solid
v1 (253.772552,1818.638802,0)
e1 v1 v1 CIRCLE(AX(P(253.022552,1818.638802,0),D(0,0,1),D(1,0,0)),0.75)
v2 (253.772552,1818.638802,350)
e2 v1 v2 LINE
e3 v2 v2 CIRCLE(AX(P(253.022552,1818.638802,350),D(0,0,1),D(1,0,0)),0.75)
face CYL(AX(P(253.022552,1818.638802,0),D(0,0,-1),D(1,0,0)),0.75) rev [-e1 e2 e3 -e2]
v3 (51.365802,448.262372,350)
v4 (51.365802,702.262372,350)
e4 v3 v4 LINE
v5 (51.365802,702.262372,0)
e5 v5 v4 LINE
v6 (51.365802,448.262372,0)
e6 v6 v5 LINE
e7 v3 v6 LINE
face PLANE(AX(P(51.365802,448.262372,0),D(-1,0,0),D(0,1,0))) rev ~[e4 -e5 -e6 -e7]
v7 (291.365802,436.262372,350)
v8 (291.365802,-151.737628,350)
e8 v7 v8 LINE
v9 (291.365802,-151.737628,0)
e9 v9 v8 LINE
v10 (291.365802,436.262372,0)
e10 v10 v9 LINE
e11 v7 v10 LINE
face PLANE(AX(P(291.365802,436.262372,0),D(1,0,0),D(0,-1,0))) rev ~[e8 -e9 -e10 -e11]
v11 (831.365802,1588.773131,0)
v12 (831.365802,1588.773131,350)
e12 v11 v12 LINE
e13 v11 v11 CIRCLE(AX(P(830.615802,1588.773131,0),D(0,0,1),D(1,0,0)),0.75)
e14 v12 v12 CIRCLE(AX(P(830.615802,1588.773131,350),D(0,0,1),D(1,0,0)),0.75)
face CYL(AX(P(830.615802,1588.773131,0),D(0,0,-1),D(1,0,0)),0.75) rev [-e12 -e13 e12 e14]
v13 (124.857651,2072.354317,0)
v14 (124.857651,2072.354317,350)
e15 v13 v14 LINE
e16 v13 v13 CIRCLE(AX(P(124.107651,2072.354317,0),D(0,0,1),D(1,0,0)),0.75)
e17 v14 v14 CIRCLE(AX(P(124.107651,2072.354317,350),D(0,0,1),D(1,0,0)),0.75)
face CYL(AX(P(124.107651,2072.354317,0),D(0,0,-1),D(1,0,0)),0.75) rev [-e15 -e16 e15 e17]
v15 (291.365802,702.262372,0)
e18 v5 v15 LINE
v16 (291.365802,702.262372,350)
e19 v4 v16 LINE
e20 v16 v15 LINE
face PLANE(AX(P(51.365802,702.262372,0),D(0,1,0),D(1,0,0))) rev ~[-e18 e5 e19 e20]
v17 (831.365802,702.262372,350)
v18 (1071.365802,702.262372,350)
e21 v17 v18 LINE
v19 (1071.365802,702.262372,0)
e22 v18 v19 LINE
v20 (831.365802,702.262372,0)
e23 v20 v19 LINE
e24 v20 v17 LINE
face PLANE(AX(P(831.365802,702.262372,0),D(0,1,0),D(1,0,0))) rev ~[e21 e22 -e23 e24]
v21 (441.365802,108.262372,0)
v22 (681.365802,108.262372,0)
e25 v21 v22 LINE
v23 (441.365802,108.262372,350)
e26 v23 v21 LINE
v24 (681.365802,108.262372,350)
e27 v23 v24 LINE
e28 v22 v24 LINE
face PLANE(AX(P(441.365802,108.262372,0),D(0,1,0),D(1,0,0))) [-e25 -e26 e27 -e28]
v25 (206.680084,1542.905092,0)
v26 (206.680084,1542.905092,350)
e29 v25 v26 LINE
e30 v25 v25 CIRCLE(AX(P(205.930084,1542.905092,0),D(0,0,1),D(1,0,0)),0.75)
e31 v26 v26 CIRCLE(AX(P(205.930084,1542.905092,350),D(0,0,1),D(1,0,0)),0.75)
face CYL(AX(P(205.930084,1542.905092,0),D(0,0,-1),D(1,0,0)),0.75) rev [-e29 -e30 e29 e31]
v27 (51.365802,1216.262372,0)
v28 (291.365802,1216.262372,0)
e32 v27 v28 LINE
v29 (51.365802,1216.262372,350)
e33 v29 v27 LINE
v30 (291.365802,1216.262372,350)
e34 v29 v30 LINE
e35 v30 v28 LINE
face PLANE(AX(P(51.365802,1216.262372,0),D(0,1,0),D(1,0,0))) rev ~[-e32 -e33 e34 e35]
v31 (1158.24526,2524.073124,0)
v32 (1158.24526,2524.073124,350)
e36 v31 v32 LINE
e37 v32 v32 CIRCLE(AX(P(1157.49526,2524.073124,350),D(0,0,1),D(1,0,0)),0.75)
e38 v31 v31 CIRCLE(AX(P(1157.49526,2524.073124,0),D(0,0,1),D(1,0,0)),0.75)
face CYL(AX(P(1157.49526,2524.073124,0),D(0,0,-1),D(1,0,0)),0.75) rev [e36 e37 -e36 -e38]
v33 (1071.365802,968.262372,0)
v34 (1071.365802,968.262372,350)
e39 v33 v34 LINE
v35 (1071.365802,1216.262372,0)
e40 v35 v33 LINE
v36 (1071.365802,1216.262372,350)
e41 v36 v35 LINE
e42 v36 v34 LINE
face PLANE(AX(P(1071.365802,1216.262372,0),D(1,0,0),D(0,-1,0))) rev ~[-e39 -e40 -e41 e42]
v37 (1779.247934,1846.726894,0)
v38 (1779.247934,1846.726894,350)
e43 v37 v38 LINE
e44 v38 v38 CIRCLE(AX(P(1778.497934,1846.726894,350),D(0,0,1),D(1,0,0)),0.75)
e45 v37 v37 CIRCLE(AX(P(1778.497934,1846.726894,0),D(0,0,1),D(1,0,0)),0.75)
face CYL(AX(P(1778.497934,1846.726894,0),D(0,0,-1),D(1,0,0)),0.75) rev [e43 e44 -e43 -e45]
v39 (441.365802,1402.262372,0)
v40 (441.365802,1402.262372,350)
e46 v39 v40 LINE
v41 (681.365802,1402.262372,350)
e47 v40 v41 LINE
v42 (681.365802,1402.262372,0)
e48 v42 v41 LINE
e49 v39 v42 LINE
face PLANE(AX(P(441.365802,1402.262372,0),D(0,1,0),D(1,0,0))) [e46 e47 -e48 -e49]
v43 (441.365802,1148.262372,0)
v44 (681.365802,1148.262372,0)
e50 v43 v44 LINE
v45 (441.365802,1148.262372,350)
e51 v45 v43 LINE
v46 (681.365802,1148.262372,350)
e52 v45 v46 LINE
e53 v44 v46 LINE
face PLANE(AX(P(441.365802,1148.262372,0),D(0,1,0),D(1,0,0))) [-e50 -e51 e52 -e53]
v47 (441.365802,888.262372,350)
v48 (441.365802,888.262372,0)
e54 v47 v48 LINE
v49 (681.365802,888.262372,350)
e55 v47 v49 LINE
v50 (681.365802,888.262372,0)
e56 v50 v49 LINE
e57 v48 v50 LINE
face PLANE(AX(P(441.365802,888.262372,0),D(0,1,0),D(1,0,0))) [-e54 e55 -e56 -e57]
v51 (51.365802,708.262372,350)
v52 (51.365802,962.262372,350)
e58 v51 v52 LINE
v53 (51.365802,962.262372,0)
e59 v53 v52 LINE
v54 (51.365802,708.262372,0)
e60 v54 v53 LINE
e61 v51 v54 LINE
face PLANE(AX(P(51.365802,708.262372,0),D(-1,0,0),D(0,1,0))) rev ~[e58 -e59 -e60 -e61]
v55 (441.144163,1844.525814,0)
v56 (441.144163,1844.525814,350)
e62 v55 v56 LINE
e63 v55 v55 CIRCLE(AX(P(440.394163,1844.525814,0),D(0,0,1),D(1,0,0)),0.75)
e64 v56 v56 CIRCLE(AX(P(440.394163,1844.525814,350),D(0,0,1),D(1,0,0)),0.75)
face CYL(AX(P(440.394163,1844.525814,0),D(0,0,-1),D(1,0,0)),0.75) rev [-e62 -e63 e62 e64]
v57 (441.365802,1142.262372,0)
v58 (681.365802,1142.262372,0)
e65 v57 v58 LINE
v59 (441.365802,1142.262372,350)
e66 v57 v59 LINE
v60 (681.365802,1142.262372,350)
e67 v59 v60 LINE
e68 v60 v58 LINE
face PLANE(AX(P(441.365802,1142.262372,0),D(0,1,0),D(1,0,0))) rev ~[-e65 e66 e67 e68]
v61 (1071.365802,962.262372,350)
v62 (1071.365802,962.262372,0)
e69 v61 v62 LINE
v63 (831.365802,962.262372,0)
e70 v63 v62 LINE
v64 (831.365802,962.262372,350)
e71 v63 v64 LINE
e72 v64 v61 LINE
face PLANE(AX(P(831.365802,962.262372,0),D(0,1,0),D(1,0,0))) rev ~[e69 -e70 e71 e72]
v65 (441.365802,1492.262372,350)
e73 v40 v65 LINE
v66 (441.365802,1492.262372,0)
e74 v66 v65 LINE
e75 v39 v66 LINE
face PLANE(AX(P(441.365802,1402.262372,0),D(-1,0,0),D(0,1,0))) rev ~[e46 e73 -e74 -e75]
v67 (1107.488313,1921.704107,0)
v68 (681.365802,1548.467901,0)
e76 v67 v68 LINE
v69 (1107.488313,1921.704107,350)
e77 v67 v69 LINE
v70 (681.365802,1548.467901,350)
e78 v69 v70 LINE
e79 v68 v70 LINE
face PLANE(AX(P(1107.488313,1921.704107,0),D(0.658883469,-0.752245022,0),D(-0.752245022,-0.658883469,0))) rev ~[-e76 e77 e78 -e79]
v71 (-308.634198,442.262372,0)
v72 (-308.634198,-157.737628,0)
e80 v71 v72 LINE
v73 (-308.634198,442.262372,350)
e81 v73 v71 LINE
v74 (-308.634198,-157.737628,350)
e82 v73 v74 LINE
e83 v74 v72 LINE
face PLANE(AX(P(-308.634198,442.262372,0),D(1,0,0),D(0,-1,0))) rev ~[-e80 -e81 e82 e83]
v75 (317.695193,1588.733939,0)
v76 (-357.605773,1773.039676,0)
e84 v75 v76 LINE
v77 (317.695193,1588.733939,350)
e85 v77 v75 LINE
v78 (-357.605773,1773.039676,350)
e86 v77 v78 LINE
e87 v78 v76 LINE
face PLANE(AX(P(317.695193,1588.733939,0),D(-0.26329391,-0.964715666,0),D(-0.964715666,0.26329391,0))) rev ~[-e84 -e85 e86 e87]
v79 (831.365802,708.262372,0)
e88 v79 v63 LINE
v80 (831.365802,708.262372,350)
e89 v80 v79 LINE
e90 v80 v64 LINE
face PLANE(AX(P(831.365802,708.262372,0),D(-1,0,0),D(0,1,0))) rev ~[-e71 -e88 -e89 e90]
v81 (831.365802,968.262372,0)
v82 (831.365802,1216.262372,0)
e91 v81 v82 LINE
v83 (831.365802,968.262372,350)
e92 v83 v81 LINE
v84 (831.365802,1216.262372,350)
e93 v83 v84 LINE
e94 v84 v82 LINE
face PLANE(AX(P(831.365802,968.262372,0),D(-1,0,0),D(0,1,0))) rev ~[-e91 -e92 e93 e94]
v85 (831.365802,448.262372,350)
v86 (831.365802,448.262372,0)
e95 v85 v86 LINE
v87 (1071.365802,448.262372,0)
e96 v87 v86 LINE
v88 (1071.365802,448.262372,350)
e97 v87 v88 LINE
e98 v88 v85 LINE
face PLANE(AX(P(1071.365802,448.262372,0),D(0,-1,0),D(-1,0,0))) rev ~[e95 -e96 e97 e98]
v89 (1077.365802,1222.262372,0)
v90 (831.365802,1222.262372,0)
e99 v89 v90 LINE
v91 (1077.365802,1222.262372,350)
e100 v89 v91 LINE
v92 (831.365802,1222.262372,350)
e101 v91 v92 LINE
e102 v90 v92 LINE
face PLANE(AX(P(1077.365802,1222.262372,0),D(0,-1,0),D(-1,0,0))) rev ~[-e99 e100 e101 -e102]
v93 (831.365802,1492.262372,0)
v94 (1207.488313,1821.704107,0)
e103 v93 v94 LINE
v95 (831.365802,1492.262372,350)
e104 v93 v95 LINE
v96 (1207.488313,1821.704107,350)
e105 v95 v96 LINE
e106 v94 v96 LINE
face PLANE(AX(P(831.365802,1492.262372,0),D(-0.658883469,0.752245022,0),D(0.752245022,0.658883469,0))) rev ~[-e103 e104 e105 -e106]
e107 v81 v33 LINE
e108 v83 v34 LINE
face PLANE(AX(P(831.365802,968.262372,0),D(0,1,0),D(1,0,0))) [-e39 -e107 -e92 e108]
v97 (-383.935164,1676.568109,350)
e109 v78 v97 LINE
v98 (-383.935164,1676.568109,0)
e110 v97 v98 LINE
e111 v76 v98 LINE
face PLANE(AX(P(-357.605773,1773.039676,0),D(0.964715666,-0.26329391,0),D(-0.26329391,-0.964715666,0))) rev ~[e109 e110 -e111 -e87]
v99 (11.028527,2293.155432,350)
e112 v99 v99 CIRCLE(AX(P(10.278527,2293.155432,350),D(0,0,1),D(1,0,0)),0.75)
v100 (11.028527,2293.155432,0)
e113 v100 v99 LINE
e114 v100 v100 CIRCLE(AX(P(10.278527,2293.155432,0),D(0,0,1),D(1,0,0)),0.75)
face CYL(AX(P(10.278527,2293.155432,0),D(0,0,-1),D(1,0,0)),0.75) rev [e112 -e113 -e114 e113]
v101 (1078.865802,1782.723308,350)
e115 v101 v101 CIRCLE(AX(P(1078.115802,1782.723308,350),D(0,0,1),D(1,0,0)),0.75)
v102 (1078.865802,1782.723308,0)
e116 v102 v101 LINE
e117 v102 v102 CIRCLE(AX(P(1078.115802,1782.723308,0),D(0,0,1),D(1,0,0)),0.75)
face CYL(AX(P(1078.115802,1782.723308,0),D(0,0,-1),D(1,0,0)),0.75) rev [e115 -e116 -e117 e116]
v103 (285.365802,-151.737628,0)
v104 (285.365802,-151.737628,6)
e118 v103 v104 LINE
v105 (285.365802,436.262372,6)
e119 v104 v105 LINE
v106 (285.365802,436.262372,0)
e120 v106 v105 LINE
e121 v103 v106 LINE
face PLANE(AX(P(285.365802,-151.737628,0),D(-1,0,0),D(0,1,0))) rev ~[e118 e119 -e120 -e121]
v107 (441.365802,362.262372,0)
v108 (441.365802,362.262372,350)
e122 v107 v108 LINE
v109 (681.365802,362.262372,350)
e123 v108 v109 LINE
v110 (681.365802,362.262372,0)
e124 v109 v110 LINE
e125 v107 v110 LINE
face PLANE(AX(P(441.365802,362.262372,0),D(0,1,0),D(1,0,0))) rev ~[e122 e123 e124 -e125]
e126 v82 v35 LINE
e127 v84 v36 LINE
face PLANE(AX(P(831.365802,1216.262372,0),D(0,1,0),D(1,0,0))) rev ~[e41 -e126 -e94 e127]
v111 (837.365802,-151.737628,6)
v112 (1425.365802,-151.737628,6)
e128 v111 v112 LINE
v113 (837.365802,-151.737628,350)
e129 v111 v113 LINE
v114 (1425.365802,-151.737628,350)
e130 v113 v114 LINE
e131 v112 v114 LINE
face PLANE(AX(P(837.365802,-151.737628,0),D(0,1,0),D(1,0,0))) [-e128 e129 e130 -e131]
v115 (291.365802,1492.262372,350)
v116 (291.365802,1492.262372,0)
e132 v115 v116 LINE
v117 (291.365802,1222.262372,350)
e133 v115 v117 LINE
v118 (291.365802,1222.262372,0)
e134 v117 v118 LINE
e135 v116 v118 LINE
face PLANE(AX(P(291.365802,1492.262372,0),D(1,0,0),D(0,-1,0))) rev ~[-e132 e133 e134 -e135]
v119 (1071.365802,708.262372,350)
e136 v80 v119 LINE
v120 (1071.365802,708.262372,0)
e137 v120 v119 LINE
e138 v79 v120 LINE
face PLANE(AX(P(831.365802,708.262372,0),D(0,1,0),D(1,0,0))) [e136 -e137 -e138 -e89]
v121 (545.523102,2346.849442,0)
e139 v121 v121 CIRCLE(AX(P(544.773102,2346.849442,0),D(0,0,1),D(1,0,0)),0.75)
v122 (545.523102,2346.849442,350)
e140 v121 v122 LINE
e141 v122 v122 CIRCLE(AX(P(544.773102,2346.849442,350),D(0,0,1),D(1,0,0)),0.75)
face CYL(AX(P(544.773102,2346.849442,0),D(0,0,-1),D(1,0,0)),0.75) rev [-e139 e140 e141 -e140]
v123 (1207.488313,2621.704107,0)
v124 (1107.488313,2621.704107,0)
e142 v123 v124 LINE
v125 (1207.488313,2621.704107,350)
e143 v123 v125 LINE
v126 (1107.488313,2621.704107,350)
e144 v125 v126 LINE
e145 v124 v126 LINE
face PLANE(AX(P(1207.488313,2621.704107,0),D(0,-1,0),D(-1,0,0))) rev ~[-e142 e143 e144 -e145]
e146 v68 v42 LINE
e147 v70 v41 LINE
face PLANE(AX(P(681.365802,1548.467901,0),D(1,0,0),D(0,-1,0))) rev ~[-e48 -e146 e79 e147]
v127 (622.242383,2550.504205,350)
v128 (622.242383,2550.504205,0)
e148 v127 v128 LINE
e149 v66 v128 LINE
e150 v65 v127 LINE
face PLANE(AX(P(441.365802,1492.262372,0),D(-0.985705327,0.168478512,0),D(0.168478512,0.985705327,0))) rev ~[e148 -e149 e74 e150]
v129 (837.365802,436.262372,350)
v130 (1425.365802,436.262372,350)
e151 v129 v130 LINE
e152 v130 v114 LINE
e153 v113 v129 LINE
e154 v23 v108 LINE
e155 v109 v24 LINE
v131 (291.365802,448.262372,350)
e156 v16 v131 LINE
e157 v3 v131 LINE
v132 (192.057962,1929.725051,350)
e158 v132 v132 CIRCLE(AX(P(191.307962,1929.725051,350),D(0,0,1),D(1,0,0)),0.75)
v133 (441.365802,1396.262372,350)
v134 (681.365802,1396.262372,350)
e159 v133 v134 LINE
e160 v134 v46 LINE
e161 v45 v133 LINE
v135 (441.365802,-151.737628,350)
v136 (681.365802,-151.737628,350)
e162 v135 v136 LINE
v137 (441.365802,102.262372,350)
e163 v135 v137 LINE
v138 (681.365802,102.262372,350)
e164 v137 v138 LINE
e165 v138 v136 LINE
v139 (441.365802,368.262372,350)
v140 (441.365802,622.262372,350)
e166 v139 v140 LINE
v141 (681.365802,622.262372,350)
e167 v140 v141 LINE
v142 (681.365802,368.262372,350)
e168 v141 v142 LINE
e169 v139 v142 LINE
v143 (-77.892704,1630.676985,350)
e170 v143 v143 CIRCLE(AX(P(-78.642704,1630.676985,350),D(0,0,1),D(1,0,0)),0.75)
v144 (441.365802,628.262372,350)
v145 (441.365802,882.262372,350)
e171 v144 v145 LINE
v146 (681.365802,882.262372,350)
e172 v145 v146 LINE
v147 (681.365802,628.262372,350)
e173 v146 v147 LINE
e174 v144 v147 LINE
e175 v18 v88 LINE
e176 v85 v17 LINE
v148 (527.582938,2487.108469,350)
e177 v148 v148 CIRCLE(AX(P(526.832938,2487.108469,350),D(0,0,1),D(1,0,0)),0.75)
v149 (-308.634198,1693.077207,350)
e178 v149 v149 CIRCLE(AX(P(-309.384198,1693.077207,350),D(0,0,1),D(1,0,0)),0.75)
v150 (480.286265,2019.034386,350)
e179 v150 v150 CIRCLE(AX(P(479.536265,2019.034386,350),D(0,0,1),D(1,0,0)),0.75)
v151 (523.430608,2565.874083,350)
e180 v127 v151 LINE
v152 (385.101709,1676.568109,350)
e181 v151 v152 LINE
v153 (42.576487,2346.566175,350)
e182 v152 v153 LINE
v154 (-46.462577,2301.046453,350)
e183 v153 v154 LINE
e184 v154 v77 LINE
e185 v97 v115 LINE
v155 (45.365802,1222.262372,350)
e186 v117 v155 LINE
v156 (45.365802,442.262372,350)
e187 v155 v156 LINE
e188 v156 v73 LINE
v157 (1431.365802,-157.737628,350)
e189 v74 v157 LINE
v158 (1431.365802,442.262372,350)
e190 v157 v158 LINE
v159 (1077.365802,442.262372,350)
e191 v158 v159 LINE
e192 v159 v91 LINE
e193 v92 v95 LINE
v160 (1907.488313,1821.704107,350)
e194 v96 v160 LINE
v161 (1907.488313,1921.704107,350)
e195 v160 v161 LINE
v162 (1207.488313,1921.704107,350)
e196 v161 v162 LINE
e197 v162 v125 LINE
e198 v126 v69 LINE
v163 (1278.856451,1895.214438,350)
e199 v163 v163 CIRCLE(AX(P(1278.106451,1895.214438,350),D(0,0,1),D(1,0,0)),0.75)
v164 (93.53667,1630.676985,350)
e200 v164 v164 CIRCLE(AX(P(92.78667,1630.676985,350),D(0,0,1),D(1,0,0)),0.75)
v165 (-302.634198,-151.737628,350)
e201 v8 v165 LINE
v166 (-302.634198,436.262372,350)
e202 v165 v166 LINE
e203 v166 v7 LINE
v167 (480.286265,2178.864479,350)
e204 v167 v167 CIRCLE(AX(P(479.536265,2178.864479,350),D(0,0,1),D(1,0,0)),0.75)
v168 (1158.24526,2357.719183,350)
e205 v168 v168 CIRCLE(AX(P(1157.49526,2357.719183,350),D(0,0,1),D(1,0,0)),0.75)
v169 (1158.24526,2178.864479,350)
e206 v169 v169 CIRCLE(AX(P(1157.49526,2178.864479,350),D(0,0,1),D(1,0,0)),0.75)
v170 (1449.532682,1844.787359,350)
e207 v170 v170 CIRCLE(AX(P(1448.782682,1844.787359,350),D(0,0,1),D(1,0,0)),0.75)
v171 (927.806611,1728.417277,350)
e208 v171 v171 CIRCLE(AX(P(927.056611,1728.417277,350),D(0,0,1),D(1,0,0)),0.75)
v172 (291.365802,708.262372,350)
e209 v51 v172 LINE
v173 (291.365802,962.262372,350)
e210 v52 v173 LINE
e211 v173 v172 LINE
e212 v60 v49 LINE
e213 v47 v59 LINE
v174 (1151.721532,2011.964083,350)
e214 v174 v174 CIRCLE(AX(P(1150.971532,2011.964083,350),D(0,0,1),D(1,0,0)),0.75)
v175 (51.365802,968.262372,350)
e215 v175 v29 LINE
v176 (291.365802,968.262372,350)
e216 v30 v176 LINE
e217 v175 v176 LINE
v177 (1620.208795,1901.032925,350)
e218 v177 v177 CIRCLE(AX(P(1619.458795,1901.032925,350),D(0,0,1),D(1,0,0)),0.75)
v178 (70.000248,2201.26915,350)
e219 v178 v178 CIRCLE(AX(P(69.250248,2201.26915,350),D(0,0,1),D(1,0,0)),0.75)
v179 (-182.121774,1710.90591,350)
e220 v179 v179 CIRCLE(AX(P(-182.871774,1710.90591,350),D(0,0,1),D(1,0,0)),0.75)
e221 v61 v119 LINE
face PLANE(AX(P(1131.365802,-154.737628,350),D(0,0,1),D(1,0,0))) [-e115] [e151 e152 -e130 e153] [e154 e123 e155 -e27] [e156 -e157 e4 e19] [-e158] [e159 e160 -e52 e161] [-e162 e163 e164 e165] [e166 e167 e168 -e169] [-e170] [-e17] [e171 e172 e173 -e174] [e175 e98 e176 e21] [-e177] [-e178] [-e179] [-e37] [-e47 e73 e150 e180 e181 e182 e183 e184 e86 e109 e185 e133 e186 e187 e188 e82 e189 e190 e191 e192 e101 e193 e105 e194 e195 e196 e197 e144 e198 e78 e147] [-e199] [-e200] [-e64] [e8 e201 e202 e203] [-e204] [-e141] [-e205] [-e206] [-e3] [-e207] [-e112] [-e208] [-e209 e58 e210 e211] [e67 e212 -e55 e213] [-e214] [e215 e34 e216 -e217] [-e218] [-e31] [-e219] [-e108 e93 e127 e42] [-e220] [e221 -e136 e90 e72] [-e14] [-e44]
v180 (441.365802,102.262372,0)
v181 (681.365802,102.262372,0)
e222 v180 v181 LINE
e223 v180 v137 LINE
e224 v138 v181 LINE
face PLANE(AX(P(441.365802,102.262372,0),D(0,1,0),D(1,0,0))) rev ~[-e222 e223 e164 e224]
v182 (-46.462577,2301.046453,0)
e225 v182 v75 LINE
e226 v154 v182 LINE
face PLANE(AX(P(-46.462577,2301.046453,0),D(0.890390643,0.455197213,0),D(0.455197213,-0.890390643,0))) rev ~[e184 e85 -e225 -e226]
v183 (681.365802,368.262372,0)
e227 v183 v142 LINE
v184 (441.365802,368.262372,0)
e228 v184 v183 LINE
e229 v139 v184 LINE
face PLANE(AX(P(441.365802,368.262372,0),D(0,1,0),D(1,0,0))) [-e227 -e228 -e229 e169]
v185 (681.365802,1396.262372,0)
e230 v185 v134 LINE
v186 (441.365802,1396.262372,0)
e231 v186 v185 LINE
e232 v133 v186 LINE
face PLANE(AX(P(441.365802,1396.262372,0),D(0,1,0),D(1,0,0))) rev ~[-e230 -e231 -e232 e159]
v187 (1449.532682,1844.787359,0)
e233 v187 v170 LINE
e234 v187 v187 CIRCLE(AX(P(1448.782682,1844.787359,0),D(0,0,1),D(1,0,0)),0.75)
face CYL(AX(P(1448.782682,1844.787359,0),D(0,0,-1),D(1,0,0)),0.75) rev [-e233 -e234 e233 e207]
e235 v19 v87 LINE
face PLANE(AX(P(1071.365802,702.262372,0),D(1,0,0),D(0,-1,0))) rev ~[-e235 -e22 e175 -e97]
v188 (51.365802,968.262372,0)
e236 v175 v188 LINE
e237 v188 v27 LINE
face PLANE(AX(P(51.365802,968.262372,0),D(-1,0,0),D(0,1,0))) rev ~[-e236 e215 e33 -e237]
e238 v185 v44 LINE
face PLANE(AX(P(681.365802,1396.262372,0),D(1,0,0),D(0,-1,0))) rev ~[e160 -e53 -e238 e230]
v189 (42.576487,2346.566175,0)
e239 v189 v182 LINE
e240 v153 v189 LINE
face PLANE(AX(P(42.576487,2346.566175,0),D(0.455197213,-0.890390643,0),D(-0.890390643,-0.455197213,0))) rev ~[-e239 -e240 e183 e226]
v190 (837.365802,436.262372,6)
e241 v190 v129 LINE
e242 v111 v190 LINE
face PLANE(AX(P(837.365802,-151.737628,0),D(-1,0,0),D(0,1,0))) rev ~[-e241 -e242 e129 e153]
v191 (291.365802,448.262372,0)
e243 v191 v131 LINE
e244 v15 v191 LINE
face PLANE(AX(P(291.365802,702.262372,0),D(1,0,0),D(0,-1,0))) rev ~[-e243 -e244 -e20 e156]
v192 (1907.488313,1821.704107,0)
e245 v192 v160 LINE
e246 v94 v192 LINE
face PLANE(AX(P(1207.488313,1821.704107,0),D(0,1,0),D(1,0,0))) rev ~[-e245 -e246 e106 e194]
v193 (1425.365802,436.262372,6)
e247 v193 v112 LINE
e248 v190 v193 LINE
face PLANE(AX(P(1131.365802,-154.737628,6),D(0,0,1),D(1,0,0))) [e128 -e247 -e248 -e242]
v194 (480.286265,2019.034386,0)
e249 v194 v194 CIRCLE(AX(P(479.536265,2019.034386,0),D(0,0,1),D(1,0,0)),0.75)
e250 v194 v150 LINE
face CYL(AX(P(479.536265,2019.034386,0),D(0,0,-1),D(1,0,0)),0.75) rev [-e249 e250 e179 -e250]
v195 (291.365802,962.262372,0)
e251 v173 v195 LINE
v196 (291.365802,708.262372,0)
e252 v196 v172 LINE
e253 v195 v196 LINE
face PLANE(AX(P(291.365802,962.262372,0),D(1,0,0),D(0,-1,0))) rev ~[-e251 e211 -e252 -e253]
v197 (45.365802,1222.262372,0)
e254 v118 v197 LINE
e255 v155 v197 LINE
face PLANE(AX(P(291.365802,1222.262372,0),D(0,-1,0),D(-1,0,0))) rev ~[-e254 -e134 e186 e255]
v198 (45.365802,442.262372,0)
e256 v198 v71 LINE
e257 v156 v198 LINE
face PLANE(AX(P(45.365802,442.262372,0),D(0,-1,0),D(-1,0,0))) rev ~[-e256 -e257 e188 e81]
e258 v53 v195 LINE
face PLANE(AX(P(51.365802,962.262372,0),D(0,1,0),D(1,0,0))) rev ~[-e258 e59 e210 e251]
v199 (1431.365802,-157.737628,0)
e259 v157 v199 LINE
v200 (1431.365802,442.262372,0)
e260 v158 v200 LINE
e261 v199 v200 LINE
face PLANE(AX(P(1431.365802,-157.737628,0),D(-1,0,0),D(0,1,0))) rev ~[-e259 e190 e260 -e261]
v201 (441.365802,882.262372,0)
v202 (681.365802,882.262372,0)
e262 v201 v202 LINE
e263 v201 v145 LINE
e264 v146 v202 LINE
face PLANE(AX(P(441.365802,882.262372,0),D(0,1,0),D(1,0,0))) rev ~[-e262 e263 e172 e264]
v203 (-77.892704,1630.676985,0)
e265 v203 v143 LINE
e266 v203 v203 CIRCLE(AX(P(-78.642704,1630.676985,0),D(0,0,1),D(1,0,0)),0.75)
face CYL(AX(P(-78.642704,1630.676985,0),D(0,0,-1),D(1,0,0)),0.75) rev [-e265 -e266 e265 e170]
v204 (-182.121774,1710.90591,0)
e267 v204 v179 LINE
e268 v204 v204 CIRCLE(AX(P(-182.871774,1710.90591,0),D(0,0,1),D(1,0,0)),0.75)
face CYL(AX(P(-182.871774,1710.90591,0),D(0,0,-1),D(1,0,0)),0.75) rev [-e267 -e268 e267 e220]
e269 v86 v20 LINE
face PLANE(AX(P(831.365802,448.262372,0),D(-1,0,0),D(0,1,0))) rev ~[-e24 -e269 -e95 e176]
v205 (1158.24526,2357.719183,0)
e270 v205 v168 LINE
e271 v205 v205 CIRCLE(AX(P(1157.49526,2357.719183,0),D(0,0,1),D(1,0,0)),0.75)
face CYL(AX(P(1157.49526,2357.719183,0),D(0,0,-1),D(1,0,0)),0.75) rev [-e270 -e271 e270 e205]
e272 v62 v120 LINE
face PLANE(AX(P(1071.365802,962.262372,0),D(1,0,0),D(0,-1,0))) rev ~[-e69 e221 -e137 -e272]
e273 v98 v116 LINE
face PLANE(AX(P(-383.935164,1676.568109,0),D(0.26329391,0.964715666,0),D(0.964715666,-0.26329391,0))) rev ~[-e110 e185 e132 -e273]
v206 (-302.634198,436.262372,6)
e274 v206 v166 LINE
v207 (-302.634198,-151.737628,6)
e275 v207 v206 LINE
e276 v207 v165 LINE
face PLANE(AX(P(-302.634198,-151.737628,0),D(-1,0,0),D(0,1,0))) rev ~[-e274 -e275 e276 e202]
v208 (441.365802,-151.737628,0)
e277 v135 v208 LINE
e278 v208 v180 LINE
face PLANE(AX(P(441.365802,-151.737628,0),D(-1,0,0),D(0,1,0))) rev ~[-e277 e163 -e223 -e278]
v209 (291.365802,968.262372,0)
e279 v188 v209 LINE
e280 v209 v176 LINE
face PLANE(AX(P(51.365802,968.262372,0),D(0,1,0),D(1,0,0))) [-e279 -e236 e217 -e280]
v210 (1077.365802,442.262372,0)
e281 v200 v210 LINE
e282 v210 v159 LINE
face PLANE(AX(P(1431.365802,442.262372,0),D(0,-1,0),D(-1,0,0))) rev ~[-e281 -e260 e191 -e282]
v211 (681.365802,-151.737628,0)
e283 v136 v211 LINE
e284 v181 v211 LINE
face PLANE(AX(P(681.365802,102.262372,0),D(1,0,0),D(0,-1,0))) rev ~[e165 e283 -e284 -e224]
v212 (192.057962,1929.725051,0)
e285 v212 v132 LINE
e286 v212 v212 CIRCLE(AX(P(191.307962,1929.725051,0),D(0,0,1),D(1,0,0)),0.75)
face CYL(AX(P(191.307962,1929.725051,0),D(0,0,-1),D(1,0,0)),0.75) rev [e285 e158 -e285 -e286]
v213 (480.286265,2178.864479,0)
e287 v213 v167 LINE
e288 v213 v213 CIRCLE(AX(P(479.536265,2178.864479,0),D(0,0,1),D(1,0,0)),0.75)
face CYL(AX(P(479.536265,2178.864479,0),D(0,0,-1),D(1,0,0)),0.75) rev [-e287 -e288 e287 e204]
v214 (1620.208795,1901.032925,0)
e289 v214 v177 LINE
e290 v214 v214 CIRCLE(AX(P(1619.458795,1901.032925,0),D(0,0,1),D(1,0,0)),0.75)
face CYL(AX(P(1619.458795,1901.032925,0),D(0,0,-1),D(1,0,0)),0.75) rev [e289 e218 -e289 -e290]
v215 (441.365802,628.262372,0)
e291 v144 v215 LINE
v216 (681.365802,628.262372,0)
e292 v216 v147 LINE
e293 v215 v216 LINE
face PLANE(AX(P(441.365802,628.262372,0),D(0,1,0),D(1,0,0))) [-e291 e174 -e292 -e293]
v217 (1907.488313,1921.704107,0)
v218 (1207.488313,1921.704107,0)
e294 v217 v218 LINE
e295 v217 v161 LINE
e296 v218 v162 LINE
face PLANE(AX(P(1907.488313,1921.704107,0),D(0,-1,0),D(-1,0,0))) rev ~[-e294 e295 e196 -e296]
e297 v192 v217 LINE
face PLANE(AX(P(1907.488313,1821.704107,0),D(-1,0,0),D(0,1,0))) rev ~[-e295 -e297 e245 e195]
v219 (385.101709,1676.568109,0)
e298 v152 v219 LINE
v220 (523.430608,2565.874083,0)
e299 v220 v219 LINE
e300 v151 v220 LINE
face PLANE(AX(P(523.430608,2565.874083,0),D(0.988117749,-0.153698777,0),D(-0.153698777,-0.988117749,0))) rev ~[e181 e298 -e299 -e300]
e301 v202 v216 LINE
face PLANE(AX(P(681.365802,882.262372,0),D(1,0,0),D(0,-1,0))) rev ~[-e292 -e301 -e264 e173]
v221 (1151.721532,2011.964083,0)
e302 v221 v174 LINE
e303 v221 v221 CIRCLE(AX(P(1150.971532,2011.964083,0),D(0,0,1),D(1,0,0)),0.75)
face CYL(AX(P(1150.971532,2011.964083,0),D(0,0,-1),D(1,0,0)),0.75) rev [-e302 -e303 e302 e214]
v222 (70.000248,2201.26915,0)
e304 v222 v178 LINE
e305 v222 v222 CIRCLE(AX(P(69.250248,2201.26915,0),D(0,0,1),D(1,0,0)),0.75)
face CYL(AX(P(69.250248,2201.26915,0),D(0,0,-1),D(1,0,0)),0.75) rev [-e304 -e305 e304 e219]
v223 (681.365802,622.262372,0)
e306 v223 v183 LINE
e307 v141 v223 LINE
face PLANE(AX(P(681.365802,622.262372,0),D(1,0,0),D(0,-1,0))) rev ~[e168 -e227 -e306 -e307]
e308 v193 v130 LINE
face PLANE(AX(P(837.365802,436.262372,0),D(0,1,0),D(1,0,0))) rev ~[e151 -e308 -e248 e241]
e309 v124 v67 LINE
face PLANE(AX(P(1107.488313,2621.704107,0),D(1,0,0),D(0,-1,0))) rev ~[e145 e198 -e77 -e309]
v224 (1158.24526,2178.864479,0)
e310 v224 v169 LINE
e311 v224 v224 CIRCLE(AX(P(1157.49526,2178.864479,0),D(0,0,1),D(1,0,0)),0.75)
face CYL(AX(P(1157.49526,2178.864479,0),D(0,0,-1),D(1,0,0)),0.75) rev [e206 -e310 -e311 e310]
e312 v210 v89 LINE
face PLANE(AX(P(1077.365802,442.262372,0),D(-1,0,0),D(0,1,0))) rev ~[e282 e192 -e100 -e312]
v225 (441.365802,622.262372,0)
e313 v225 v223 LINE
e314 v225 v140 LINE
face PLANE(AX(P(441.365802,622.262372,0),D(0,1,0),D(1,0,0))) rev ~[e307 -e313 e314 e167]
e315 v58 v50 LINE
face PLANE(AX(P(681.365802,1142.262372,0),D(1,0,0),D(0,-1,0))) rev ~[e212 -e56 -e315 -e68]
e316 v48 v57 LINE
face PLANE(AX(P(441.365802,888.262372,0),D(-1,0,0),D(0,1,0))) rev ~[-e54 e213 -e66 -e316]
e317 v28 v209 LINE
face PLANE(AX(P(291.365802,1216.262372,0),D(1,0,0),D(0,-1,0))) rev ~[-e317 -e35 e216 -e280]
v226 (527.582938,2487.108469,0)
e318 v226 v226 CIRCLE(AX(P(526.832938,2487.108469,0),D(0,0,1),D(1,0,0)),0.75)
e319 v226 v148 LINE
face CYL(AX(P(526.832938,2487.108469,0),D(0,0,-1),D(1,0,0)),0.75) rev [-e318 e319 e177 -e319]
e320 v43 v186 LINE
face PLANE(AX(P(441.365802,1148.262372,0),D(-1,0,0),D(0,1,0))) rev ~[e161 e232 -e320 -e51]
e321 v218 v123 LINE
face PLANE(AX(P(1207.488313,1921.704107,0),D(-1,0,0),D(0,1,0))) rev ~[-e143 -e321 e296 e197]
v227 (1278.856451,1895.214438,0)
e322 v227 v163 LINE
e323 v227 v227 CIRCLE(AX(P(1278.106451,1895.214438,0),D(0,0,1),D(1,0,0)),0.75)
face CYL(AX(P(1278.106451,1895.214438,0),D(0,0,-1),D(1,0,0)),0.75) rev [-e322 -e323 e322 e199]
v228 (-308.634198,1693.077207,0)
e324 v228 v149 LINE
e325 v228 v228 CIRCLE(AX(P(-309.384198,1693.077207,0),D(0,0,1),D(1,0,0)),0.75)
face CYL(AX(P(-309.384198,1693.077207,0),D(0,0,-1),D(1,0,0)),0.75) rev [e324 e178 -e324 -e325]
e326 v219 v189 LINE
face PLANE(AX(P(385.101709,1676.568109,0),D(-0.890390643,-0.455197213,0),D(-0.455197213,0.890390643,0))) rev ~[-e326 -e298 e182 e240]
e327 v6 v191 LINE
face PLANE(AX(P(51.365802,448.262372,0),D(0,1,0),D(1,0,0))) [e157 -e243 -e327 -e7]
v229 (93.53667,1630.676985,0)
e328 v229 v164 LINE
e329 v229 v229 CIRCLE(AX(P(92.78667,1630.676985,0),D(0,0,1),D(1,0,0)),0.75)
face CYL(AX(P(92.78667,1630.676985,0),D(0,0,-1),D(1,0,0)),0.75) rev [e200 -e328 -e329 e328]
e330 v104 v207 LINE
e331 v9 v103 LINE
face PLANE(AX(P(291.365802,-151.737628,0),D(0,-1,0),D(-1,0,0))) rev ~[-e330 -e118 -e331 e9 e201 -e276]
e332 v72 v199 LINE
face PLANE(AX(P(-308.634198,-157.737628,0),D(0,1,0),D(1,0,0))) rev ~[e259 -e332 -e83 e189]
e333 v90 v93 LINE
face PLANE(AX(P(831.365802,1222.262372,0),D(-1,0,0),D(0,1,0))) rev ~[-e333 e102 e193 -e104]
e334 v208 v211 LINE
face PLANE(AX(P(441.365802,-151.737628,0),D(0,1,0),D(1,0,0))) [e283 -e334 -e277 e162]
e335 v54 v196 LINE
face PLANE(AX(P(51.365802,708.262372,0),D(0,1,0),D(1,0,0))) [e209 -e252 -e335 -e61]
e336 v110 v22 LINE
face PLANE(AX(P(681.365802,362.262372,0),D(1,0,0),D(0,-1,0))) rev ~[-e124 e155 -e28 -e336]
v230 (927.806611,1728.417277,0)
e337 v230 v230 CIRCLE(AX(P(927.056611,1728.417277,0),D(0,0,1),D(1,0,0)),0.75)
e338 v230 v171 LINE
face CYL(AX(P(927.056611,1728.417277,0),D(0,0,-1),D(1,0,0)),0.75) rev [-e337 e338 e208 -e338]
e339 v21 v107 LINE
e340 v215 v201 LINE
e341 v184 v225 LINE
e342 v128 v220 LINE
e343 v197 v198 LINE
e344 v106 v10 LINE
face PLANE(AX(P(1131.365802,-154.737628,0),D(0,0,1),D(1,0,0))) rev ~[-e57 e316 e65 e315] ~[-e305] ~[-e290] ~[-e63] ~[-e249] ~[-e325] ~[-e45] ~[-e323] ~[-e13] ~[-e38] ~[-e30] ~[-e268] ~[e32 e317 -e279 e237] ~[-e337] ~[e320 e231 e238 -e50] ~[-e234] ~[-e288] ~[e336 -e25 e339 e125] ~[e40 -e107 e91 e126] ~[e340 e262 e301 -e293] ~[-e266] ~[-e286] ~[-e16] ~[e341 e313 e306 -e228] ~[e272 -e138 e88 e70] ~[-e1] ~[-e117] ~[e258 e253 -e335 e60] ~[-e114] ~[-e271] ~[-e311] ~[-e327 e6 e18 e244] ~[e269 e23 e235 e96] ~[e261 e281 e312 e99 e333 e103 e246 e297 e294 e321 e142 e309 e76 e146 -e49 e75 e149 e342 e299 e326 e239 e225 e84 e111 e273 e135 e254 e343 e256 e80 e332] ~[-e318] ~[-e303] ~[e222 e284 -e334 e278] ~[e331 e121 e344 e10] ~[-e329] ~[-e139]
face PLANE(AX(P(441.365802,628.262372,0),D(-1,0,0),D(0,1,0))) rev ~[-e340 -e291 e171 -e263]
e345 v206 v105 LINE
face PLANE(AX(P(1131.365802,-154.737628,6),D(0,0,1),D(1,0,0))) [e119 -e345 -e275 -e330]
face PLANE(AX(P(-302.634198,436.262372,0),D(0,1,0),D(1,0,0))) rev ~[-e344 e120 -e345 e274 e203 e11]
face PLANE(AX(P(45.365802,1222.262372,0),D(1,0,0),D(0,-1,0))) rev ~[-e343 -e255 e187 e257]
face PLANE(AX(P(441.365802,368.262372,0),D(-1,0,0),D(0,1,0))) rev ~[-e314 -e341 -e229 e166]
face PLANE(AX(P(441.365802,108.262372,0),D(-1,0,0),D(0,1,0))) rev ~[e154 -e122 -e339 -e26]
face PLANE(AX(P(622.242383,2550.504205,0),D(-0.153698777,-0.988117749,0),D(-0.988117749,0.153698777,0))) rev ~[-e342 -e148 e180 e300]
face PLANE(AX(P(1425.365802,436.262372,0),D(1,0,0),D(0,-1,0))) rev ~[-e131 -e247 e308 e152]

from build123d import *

# Parameters (mm, degrees)
F0_W     = 588
F0_H     = 6
F0_W_2   = 240
F0_R     = 0.75
F1_DEPTH = 350
F0_H_2   = 588
F2_DEPTH = 6


with BuildPart() as f1:
    # F0 (on Top) → F1 (new body)
    with BuildSketch(Plane.XY):
        with Locations((1131.3658022881, -154.7376276255)):
            Rectangle(F0_W, F0_H)
        Polygon((831.3658022881, 442.2623723745), (831.3658022881, -157.7376276255), (837.3658022881, -157.7376276255), (837.3658022881, -151.7376276255), (837.3658022881, 436.2623723745), (837.3658022881, 442.2623723745), align=None)
        Polygon((285.3658022881, 436.2623723745), (291.3658022881, 436.2623723745), (291.3658022881, 442.2623723745), (51.3658022881, 442.2623723745), (45.3658022881, 442.2623723745), (-302.6341977119, 442.2623723745), (-302.6341977119, 436.2623723745), align=None)
        with Locations((951.3658022881, 1219.2623723745)):
            Rectangle(F0_W_2, F0_H)
        Polygon((-308.6341977119, -157.7376276255), (-302.6341977119, -157.7376276255), (-302.6341977119, -151.7376276255), (-302.6341977119, 436.2623723745), (-302.6341977119, 442.2623723745), (-308.6341977119, 442.2623723745), align=None)
        Polygon((-302.6341977119, -157.7376276255), (291.3658022881, -157.7376276255), (291.3658022881, -151.7376276255), (285.3658022881, -151.7376276255), (-302.6341977119, -151.7376276255), align=None)
        Polygon((1071.3658022881, 442.2623723745), (837.3658022881, 442.2623723745), (837.3658022881, 436.2623723745), (1425.3658022881, 436.2623723745), (1431.3658022881, 436.2623723745), (1431.3658022881, 442.2623723745), (1077.3658022881, 442.2623723745), align=None)
        Polygon((291.3658022881, -151.7376276255), (291.3658022881, -157.7376276255), (441.3658022881, -157.7376276255), (441.3658022881, -151.7376276255), (441.3658022881, 102.2623723745), (441.3658022881, 108.2623723745), (441.3658022881, 362.2623723745), (441.3658022881, 368.2623723745), (441.3658022881, 622.2623723745), (441.3658022881, 628.2623723745), (441.3658022881, 882.2623723745), (441.3658022881, 888.2623723745), (441.3658022881, 1142.2623723745), (441.3658022881, 1148.2623723745), (441.3658022881, 1396.2623723745), (441.3658022881, 1402.2623723745), (441.3658022881, 1492.2623723745), (291.3658022881, 1492.2623723745), (291.3658022881, 1222.2623723745), (291.3658022881, 1216.2623723745), (291.3658022881, 968.2623723745), (291.3658022881, 962.2623723745), (291.3658022881, 708.2623723745), (291.3658022881, 702.2623723745), (291.3658022881, 448.2623723745), (291.3658022881, 442.2623723745), (291.3658022881, 436.2623723745), align=None)
        with Locations((171.3658022881, 1219.2623723745)):
            Rectangle(F0_W_2, F0_H)
        Polygon((1425.3658022881, -151.7376276255), (1425.3658022881, -157.7376276255), (1431.3658022881, -157.7376276255), (1431.3658022881, 436.2623723745), (1425.3658022881, 436.2623723745), align=None)
        with Locations((561.3658022881, -154.7376276255)):
            Rectangle(F0_W_2, F0_H)
        Polygon((681.3658022881, -151.7376276255), (681.3658022881, -157.7376276255), (831.3658022881, -157.7376276255), (831.3658022881, 442.2623723745), (831.3658022881, 448.2623723745), (831.3658022881, 702.2623723745), (831.3658022881, 708.2623723745), (831.3658022881, 962.2623723745), (831.3658022881, 968.2623723745), (831.3658022881, 1216.2623723745), (831.3658022881, 1222.2623723745), (831.3658022881, 1492.2623723745), (681.3658022881, 1492.2623723745), (681.3658022881, 1402.2623723745), (681.3658022881, 1396.2623723745), (681.3658022881, 1148.2623723745), (681.3658022881, 1142.2623723745), (681.3658022881, 888.2623723745), (681.3658022881, 882.2623723745), (681.3658022881, 628.2623723745), (681.3658022881, 622.2623723745), (681.3658022881, 368.2623723745), (681.3658022881, 362.2623723745), (681.3658022881, 108.2623723745), (681.3658022881, 102.2623723745), (681.3658022881, 7.2623723745), align=None)
        Polygon((-383.9351642411, 1676.5681091402), (291.3658022881, 1492.2623723745), (441.3658022881, 1492.2623723745), (622.2423832578, 2550.5042054476), (523.4306083625, 2565.8740831976), (385.101708613, 1676.5681091402), (42.5764871887, 2346.5661747919), (-46.4625771205, 2301.046453495), (317.6951932546, 1588.7339390216), (-357.6057732746, 1773.0396757873), align=None)
        with Locations((-309.3841977119, 1693.0772066116)):
            Circle(F0_R, mode=Mode.SUBTRACT)
        with Locations((-182.871773839, 1710.9059095383)):
            Circle(F0_R, mode=Mode.SUBTRACT)
        with Locations((-78.6427035928, 1630.676984787)):
            Circle(F0_R, mode=Mode.SUBTRACT)
        with Locations((92.7866697311, 1630.676984787)):
            Circle(F0_R, mode=Mode.SUBTRACT)
        with Locations((205.9300839901, 1542.9050922394)):
            Circle(F0_R, mode=Mode.SUBTRACT)
        with Locations((253.0225515366, 1818.6388015747)):
            Circle(F0_R, mode=Mode.SUBTRACT)
        with Locations((440.3941631317, 1844.5258140564)):
            Circle(F0_R, mode=Mode.SUBTRACT)
        with Locations((124.1076514125, 2072.3543167114)):
            Circle(F0_R, mode=Mode.SUBTRACT)
        with Locations((69.2502483726, 2201.2691497803)):
            Circle(F0_R, mode=Mode.SUBTRACT)
        with Locations((10.2785266936, 2293.1554317474)):
            Circle(F0_R, mode=Mode.SUBTRACT)
        with Locations((191.3079619408, 1929.7250509262)):
            Circle(F0_R, mode=Mode.SUBTRACT)
        with Locations((479.5362651348, 2019.0343856812)):
            Circle(F0_R, mode=Mode.SUBTRACT)
        with Locations((479.5362651348, 2178.8644790649)):
            Circle(F0_R, mode=Mode.SUBTRACT)
        with Locations((544.7731018066, 2346.8494415283)):
            Circle(F0_R, mode=Mode.SUBTRACT)
        with Locations((526.8329381943, 2487.1084690094)):
            Circle(F0_R, mode=Mode.SUBTRACT)
        Polygon((1071.3658022881, 702.2623723745), (1071.3658022881, 448.2623723745), (1071.3658022881, 442.2623723745), (1077.3658022881, 442.2623723745), (1077.3658022881, 1222.2623723745), (1071.3658022881, 1222.2623723745), (1071.3658022881, 1216.2623723745), (1071.3658022881, 968.2623723745), (1071.3658022881, 962.2623723745), (1071.3658022881, 708.2623723745), align=None)
        Polygon((681.3658022881, 1492.2623723745), (831.3658022881, 1492.2623723745), (1207.488313467, 1821.7041071084), (1907.488313467, 1821.7041071084), (1907.488313467, 1921.7041071084), (1207.488313467, 1921.7041071084), (1207.488313467, 2621.7041071084), (1107.488313467, 2621.7041071084), (1107.488313467, 1921.7041071084), (681.3658022881, 1548.4679005014), align=None)
        with Locations((830.6158022881, 1588.7731313705)):
            Circle(F0_R, mode=Mode.SUBTRACT)
        with Locations((927.0566105843, 1728.4172773361)):
            Circle(F0_R, mode=Mode.SUBTRACT)
        with Locations((1078.1158022881, 1782.7233076096)):
            Circle(F0_R, mode=Mode.SUBTRACT)
        with Locations((1278.1064510345, 1895.2144384384)):
            Circle(F0_R, mode=Mode.SUBTRACT)
        with Locations((1448.7826824188, 1844.7873592377)):
            Circle(F0_R, mode=Mode.SUBTRACT)
        with Locations((1619.4587945938, 1901.0329246521)):
            Circle(F0_R, mode=Mode.SUBTRACT)
        with Locations((1778.4979343414, 1846.7268943787)):
            Circle(F0_R, mode=Mode.SUBTRACT)
        with Locations((1150.971531868, 2011.9640827179)):
            Circle(F0_R, mode=Mode.SUBTRACT)
        with Locations((1157.4952602386, 2178.8644790649)):
            Circle(F0_R, mode=Mode.SUBTRACT)
        with Locations((1157.4952602386, 2357.7191829681)):
            Circle(F0_R, mode=Mode.SUBTRACT)
        with Locations((1157.4952602386, 2524.0731239319)):
            Circle(F0_R, mode=Mode.SUBTRACT)
        Polygon((45.3658022881, 442.2623723745), (51.3658022881, 442.2623723745), (51.3658022881, 448.2623723745), (51.3658022881, 702.2623723745), (51.3658022881, 708.2623723745), (51.3658022881, 962.2623723745), (51.3658022881, 968.2623723745), (51.3658022881, 1216.2623723745), (51.3658022881, 1222.2623723745), (45.3658022881, 1222.2623723745), align=None)
        with Locations((561.3658022881, 1399.2623723745)):
            Rectangle(F0_W_2, F0_H)
        with Locations((951.3658022881, 965.2623723745)):
            Rectangle(F0_W_2, F0_H)
        with Locations((561.3658022881, 1145.2623723745)):
            Rectangle(F0_W_2, F0_H)
        with Locations((561.3658022881, 885.2623723745)):
            Rectangle(F0_W_2, F0_H)
        with Locations((561.3658022881, 625.2623723745)):
            Rectangle(F0_W_2, F0_H)
        with Locations((951.3658022881, 705.2623723745)):
            Rectangle(F0_W_2, F0_H)
        with Locations((561.3658022881, 365.2623723745)):
            Rectangle(F0_W_2, F0_H)
        Polygon((831.3658022881, 448.2623723745), (831.3658022881, 442.2623723745), (837.3658022881, 442.2623723745), (1071.3658022881, 442.2623723745), (1071.3658022881, 448.2623723745), align=None)
        with Locations((561.3658022881, 105.2623723745)):
            Rectangle(F0_W_2, F0_H)
        with Locations((171.3658022881, 705.2623723745)):
            Rectangle(F0_W_2, F0_H)
        with Locations((171.3658022881, 445.2623723745)):
            Rectangle(F0_W_2, F0_H)
        with Locations((171.3658022881, 965.2623723745)):
            Rectangle(F0_W_2, F0_H)
    extrude(amount=F1_DEPTH)

    # F0 (on Top) → F2 (join)
    with BuildSketch(Plane.XY):
        with Locations((1131.3658022881, -154.7376276255)):
            Rectangle(F0_W, F0_H)
        Polygon((831.3658022881, 442.2623723745), (831.3658022881, -157.7376276255), (837.3658022881, -157.7376276255), (837.3658022881, -151.7376276255), (837.3658022881, 436.2623723745), (837.3658022881, 442.2623723745), align=None)
        Polygon((285.3658022881, 436.2623723745), (291.3658022881, 436.2623723745), (291.3658022881, 442.2623723745), (51.3658022881, 442.2623723745), (45.3658022881, 442.2623723745), (-302.6341977119, 442.2623723745), (-302.6341977119, 436.2623723745), align=None)
        with Locations((951.3658022881, 1219.2623723745)):
            Rectangle(F0_W_2, F0_H)
        Polygon((-308.6341977119, -157.7376276255), (-302.6341977119, -157.7376276255), (-302.6341977119, -151.7376276255), (-302.6341977119, 436.2623723745), (-302.6341977119, 442.2623723745), (-308.6341977119, 442.2623723745), align=None)
        Polygon((-302.6341977119, -157.7376276255), (291.3658022881, -157.7376276255), (291.3658022881, -151.7376276255), (285.3658022881, -151.7376276255), (-302.6341977119, -151.7376276255), align=None)
        Polygon((1071.3658022881, 442.2623723745), (837.3658022881, 442.2623723745), (837.3658022881, 436.2623723745), (1425.3658022881, 436.2623723745), (1431.3658022881, 436.2623723745), (1431.3658022881, 442.2623723745), (1077.3658022881, 442.2623723745), align=None)
        Polygon((291.3658022881, -151.7376276255), (291.3658022881, -157.7376276255), (441.3658022881, -157.7376276255), (441.3658022881, -151.7376276255), (441.3658022881, 102.2623723745), (441.3658022881, 108.2623723745), (441.3658022881, 362.2623723745), (441.3658022881, 368.2623723745), (441.3658022881, 622.2623723745), (441.3658022881, 628.2623723745), (441.3658022881, 882.2623723745), (441.3658022881, 888.2623723745), (441.3658022881, 1142.2623723745), (441.3658022881, 1148.2623723745), (441.3658022881, 1396.2623723745), (441.3658022881, 1402.2623723745), (441.3658022881, 1492.2623723745), (291.3658022881, 1492.2623723745), (291.3658022881, 1222.2623723745), (291.3658022881, 1216.2623723745), (291.3658022881, 968.2623723745), (291.3658022881, 962.2623723745), (291.3658022881, 708.2623723745), (291.3658022881, 702.2623723745), (291.3658022881, 448.2623723745), (291.3658022881, 442.2623723745), (291.3658022881, 436.2623723745), align=None)
        with Locations((171.3658022881, 1219.2623723745)):
            Rectangle(F0_W_2, F0_H)
        Polygon((1425.3658022881, -151.7376276255), (1425.3658022881, -157.7376276255), (1431.3658022881, -157.7376276255), (1431.3658022881, 436.2623723745), (1425.3658022881, 436.2623723745), align=None)
        with Locations((561.3658022881, -154.7376276255)):
            Rectangle(F0_W_2, F0_H)
        Polygon((681.3658022881, -151.7376276255), (681.3658022881, -157.7376276255), (831.3658022881, -157.7376276255), (831.3658022881, 442.2623723745), (831.3658022881, 448.2623723745), (831.3658022881, 702.2623723745), (831.3658022881, 708.2623723745), (831.3658022881, 962.2623723745), (831.3658022881, 968.2623723745), (831.3658022881, 1216.2623723745), (831.3658022881, 1222.2623723745), (831.3658022881, 1492.2623723745), (681.3658022881, 1492.2623723745), (681.3658022881, 1402.2623723745), (681.3658022881, 1396.2623723745), (681.3658022881, 1148.2623723745), (681.3658022881, 1142.2623723745), (681.3658022881, 888.2623723745), (681.3658022881, 882.2623723745), (681.3658022881, 628.2623723745), (681.3658022881, 622.2623723745), (681.3658022881, 368.2623723745), (681.3658022881, 362.2623723745), (681.3658022881, 108.2623723745), (681.3658022881, 102.2623723745), (681.3658022881, 7.2623723745), align=None)
        Polygon((-383.9351642411, 1676.5681091402), (291.3658022881, 1492.2623723745), (441.3658022881, 1492.2623723745), (622.2423832578, 2550.5042054476), (523.4306083625, 2565.8740831976), (385.101708613, 1676.5681091402), (42.5764871887, 2346.5661747919), (-46.4625771205, 2301.046453495), (317.6951932546, 1588.7339390216), (-357.6057732746, 1773.0396757873), align=None)
        with Locations((-309.3841977119, 1693.0772066116)):
            Circle(F0_R, mode=Mode.SUBTRACT)
        with Locations((-182.871773839, 1710.9059095383)):
            Circle(F0_R, mode=Mode.SUBTRACT)
        with Locations((-78.6427035928, 1630.676984787)):
            Circle(F0_R, mode=Mode.SUBTRACT)
        with Locations((92.7866697311, 1630.676984787)):
            Circle(F0_R, mode=Mode.SUBTRACT)
        with Locations((205.9300839901, 1542.9050922394)):
            Circle(F0_R, mode=Mode.SUBTRACT)
        with Locations((253.0225515366, 1818.6388015747)):
            Circle(F0_R, mode=Mode.SUBTRACT)
        with Locations((440.3941631317, 1844.5258140564)):
            Circle(F0_R, mode=Mode.SUBTRACT)
        with Locations((124.1076514125, 2072.3543167114)):
            Circle(F0_R, mode=Mode.SUBTRACT)
        with Locations((69.2502483726, 2201.2691497803)):
            Circle(F0_R, mode=Mode.SUBTRACT)
        with Locations((10.2785266936, 2293.1554317474)):
            Circle(F0_R, mode=Mode.SUBTRACT)
        with Locations((191.3079619408, 1929.7250509262)):
            Circle(F0_R, mode=Mode.SUBTRACT)
        with Locations((479.5362651348, 2019.0343856812)):
            Circle(F0_R, mode=Mode.SUBTRACT)
        with Locations((479.5362651348, 2178.8644790649)):
            Circle(F0_R, mode=Mode.SUBTRACT)
        with Locations((544.7731018066, 2346.8494415283)):
            Circle(F0_R, mode=Mode.SUBTRACT)
        with Locations((526.8329381943, 2487.1084690094)):
            Circle(F0_R, mode=Mode.SUBTRACT)
        Polygon((1071.3658022881, 702.2623723745), (1071.3658022881, 448.2623723745), (1071.3658022881, 442.2623723745), (1077.3658022881, 442.2623723745), (1077.3658022881, 1222.2623723745), (1071.3658022881, 1222.2623723745), (1071.3658022881, 1216.2623723745), (1071.3658022881, 968.2623723745), (1071.3658022881, 962.2623723745), (1071.3658022881, 708.2623723745), align=None)
        Polygon((681.3658022881, 1492.2623723745), (831.3658022881, 1492.2623723745), (1207.488313467, 1821.7041071084), (1907.488313467, 1821.7041071084), (1907.488313467, 1921.7041071084), (1207.488313467, 1921.7041071084), (1207.488313467, 2621.7041071084), (1107.488313467, 2621.7041071084), (1107.488313467, 1921.7041071084), (681.3658022881, 1548.4679005014), align=None)
        with Locations((830.6158022881, 1588.7731313705)):
            Circle(F0_R, mode=Mode.SUBTRACT)
        with Locations((927.0566105843, 1728.4172773361)):
            Circle(F0_R, mode=Mode.SUBTRACT)
        with Locations((1078.1158022881, 1782.7233076096)):
            Circle(F0_R, mode=Mode.SUBTRACT)
        with Locations((1278.1064510345, 1895.2144384384)):
            Circle(F0_R, mode=Mode.SUBTRACT)
        with Locations((1448.7826824188, 1844.7873592377)):
            Circle(F0_R, mode=Mode.SUBTRACT)
        with Locations((1619.4587945938, 1901.0329246521)):
            Circle(F0_R, mode=Mode.SUBTRACT)
        with Locations((1778.4979343414, 1846.7268943787)):
            Circle(F0_R, mode=Mode.SUBTRACT)
        with Locations((1150.971531868, 2011.9640827179)):
            Circle(F0_R, mode=Mode.SUBTRACT)
        with Locations((1157.4952602386, 2178.8644790649)):
            Circle(F0_R, mode=Mode.SUBTRACT)
        with Locations((1157.4952602386, 2357.7191829681)):
            Circle(F0_R, mode=Mode.SUBTRACT)
        with Locations((1157.4952602386, 2524.0731239319)):
            Circle(F0_R, mode=Mode.SUBTRACT)
        Polygon((45.3658022881, 442.2623723745), (51.3658022881, 442.2623723745), (51.3658022881, 448.2623723745), (51.3658022881, 702.2623723745), (51.3658022881, 708.2623723745), (51.3658022881, 962.2623723745), (51.3658022881, 968.2623723745), (51.3658022881, 1216.2623723745), (51.3658022881, 1222.2623723745), (45.3658022881, 1222.2623723745), align=None)
        with Locations((561.3658022881, 1399.2623723745)):
            Rectangle(F0_W_2, F0_H)
        with Locations((-8.6341977119, 142.2623723745)):
            Rectangle(F0_W, F0_H_2)
        with Locations((1131.3658022881, 142.2623723745)):
            Rectangle(F0_W, F0_H_2)
    extrude(amount=F2_DEPTH)


solid = f1.part
